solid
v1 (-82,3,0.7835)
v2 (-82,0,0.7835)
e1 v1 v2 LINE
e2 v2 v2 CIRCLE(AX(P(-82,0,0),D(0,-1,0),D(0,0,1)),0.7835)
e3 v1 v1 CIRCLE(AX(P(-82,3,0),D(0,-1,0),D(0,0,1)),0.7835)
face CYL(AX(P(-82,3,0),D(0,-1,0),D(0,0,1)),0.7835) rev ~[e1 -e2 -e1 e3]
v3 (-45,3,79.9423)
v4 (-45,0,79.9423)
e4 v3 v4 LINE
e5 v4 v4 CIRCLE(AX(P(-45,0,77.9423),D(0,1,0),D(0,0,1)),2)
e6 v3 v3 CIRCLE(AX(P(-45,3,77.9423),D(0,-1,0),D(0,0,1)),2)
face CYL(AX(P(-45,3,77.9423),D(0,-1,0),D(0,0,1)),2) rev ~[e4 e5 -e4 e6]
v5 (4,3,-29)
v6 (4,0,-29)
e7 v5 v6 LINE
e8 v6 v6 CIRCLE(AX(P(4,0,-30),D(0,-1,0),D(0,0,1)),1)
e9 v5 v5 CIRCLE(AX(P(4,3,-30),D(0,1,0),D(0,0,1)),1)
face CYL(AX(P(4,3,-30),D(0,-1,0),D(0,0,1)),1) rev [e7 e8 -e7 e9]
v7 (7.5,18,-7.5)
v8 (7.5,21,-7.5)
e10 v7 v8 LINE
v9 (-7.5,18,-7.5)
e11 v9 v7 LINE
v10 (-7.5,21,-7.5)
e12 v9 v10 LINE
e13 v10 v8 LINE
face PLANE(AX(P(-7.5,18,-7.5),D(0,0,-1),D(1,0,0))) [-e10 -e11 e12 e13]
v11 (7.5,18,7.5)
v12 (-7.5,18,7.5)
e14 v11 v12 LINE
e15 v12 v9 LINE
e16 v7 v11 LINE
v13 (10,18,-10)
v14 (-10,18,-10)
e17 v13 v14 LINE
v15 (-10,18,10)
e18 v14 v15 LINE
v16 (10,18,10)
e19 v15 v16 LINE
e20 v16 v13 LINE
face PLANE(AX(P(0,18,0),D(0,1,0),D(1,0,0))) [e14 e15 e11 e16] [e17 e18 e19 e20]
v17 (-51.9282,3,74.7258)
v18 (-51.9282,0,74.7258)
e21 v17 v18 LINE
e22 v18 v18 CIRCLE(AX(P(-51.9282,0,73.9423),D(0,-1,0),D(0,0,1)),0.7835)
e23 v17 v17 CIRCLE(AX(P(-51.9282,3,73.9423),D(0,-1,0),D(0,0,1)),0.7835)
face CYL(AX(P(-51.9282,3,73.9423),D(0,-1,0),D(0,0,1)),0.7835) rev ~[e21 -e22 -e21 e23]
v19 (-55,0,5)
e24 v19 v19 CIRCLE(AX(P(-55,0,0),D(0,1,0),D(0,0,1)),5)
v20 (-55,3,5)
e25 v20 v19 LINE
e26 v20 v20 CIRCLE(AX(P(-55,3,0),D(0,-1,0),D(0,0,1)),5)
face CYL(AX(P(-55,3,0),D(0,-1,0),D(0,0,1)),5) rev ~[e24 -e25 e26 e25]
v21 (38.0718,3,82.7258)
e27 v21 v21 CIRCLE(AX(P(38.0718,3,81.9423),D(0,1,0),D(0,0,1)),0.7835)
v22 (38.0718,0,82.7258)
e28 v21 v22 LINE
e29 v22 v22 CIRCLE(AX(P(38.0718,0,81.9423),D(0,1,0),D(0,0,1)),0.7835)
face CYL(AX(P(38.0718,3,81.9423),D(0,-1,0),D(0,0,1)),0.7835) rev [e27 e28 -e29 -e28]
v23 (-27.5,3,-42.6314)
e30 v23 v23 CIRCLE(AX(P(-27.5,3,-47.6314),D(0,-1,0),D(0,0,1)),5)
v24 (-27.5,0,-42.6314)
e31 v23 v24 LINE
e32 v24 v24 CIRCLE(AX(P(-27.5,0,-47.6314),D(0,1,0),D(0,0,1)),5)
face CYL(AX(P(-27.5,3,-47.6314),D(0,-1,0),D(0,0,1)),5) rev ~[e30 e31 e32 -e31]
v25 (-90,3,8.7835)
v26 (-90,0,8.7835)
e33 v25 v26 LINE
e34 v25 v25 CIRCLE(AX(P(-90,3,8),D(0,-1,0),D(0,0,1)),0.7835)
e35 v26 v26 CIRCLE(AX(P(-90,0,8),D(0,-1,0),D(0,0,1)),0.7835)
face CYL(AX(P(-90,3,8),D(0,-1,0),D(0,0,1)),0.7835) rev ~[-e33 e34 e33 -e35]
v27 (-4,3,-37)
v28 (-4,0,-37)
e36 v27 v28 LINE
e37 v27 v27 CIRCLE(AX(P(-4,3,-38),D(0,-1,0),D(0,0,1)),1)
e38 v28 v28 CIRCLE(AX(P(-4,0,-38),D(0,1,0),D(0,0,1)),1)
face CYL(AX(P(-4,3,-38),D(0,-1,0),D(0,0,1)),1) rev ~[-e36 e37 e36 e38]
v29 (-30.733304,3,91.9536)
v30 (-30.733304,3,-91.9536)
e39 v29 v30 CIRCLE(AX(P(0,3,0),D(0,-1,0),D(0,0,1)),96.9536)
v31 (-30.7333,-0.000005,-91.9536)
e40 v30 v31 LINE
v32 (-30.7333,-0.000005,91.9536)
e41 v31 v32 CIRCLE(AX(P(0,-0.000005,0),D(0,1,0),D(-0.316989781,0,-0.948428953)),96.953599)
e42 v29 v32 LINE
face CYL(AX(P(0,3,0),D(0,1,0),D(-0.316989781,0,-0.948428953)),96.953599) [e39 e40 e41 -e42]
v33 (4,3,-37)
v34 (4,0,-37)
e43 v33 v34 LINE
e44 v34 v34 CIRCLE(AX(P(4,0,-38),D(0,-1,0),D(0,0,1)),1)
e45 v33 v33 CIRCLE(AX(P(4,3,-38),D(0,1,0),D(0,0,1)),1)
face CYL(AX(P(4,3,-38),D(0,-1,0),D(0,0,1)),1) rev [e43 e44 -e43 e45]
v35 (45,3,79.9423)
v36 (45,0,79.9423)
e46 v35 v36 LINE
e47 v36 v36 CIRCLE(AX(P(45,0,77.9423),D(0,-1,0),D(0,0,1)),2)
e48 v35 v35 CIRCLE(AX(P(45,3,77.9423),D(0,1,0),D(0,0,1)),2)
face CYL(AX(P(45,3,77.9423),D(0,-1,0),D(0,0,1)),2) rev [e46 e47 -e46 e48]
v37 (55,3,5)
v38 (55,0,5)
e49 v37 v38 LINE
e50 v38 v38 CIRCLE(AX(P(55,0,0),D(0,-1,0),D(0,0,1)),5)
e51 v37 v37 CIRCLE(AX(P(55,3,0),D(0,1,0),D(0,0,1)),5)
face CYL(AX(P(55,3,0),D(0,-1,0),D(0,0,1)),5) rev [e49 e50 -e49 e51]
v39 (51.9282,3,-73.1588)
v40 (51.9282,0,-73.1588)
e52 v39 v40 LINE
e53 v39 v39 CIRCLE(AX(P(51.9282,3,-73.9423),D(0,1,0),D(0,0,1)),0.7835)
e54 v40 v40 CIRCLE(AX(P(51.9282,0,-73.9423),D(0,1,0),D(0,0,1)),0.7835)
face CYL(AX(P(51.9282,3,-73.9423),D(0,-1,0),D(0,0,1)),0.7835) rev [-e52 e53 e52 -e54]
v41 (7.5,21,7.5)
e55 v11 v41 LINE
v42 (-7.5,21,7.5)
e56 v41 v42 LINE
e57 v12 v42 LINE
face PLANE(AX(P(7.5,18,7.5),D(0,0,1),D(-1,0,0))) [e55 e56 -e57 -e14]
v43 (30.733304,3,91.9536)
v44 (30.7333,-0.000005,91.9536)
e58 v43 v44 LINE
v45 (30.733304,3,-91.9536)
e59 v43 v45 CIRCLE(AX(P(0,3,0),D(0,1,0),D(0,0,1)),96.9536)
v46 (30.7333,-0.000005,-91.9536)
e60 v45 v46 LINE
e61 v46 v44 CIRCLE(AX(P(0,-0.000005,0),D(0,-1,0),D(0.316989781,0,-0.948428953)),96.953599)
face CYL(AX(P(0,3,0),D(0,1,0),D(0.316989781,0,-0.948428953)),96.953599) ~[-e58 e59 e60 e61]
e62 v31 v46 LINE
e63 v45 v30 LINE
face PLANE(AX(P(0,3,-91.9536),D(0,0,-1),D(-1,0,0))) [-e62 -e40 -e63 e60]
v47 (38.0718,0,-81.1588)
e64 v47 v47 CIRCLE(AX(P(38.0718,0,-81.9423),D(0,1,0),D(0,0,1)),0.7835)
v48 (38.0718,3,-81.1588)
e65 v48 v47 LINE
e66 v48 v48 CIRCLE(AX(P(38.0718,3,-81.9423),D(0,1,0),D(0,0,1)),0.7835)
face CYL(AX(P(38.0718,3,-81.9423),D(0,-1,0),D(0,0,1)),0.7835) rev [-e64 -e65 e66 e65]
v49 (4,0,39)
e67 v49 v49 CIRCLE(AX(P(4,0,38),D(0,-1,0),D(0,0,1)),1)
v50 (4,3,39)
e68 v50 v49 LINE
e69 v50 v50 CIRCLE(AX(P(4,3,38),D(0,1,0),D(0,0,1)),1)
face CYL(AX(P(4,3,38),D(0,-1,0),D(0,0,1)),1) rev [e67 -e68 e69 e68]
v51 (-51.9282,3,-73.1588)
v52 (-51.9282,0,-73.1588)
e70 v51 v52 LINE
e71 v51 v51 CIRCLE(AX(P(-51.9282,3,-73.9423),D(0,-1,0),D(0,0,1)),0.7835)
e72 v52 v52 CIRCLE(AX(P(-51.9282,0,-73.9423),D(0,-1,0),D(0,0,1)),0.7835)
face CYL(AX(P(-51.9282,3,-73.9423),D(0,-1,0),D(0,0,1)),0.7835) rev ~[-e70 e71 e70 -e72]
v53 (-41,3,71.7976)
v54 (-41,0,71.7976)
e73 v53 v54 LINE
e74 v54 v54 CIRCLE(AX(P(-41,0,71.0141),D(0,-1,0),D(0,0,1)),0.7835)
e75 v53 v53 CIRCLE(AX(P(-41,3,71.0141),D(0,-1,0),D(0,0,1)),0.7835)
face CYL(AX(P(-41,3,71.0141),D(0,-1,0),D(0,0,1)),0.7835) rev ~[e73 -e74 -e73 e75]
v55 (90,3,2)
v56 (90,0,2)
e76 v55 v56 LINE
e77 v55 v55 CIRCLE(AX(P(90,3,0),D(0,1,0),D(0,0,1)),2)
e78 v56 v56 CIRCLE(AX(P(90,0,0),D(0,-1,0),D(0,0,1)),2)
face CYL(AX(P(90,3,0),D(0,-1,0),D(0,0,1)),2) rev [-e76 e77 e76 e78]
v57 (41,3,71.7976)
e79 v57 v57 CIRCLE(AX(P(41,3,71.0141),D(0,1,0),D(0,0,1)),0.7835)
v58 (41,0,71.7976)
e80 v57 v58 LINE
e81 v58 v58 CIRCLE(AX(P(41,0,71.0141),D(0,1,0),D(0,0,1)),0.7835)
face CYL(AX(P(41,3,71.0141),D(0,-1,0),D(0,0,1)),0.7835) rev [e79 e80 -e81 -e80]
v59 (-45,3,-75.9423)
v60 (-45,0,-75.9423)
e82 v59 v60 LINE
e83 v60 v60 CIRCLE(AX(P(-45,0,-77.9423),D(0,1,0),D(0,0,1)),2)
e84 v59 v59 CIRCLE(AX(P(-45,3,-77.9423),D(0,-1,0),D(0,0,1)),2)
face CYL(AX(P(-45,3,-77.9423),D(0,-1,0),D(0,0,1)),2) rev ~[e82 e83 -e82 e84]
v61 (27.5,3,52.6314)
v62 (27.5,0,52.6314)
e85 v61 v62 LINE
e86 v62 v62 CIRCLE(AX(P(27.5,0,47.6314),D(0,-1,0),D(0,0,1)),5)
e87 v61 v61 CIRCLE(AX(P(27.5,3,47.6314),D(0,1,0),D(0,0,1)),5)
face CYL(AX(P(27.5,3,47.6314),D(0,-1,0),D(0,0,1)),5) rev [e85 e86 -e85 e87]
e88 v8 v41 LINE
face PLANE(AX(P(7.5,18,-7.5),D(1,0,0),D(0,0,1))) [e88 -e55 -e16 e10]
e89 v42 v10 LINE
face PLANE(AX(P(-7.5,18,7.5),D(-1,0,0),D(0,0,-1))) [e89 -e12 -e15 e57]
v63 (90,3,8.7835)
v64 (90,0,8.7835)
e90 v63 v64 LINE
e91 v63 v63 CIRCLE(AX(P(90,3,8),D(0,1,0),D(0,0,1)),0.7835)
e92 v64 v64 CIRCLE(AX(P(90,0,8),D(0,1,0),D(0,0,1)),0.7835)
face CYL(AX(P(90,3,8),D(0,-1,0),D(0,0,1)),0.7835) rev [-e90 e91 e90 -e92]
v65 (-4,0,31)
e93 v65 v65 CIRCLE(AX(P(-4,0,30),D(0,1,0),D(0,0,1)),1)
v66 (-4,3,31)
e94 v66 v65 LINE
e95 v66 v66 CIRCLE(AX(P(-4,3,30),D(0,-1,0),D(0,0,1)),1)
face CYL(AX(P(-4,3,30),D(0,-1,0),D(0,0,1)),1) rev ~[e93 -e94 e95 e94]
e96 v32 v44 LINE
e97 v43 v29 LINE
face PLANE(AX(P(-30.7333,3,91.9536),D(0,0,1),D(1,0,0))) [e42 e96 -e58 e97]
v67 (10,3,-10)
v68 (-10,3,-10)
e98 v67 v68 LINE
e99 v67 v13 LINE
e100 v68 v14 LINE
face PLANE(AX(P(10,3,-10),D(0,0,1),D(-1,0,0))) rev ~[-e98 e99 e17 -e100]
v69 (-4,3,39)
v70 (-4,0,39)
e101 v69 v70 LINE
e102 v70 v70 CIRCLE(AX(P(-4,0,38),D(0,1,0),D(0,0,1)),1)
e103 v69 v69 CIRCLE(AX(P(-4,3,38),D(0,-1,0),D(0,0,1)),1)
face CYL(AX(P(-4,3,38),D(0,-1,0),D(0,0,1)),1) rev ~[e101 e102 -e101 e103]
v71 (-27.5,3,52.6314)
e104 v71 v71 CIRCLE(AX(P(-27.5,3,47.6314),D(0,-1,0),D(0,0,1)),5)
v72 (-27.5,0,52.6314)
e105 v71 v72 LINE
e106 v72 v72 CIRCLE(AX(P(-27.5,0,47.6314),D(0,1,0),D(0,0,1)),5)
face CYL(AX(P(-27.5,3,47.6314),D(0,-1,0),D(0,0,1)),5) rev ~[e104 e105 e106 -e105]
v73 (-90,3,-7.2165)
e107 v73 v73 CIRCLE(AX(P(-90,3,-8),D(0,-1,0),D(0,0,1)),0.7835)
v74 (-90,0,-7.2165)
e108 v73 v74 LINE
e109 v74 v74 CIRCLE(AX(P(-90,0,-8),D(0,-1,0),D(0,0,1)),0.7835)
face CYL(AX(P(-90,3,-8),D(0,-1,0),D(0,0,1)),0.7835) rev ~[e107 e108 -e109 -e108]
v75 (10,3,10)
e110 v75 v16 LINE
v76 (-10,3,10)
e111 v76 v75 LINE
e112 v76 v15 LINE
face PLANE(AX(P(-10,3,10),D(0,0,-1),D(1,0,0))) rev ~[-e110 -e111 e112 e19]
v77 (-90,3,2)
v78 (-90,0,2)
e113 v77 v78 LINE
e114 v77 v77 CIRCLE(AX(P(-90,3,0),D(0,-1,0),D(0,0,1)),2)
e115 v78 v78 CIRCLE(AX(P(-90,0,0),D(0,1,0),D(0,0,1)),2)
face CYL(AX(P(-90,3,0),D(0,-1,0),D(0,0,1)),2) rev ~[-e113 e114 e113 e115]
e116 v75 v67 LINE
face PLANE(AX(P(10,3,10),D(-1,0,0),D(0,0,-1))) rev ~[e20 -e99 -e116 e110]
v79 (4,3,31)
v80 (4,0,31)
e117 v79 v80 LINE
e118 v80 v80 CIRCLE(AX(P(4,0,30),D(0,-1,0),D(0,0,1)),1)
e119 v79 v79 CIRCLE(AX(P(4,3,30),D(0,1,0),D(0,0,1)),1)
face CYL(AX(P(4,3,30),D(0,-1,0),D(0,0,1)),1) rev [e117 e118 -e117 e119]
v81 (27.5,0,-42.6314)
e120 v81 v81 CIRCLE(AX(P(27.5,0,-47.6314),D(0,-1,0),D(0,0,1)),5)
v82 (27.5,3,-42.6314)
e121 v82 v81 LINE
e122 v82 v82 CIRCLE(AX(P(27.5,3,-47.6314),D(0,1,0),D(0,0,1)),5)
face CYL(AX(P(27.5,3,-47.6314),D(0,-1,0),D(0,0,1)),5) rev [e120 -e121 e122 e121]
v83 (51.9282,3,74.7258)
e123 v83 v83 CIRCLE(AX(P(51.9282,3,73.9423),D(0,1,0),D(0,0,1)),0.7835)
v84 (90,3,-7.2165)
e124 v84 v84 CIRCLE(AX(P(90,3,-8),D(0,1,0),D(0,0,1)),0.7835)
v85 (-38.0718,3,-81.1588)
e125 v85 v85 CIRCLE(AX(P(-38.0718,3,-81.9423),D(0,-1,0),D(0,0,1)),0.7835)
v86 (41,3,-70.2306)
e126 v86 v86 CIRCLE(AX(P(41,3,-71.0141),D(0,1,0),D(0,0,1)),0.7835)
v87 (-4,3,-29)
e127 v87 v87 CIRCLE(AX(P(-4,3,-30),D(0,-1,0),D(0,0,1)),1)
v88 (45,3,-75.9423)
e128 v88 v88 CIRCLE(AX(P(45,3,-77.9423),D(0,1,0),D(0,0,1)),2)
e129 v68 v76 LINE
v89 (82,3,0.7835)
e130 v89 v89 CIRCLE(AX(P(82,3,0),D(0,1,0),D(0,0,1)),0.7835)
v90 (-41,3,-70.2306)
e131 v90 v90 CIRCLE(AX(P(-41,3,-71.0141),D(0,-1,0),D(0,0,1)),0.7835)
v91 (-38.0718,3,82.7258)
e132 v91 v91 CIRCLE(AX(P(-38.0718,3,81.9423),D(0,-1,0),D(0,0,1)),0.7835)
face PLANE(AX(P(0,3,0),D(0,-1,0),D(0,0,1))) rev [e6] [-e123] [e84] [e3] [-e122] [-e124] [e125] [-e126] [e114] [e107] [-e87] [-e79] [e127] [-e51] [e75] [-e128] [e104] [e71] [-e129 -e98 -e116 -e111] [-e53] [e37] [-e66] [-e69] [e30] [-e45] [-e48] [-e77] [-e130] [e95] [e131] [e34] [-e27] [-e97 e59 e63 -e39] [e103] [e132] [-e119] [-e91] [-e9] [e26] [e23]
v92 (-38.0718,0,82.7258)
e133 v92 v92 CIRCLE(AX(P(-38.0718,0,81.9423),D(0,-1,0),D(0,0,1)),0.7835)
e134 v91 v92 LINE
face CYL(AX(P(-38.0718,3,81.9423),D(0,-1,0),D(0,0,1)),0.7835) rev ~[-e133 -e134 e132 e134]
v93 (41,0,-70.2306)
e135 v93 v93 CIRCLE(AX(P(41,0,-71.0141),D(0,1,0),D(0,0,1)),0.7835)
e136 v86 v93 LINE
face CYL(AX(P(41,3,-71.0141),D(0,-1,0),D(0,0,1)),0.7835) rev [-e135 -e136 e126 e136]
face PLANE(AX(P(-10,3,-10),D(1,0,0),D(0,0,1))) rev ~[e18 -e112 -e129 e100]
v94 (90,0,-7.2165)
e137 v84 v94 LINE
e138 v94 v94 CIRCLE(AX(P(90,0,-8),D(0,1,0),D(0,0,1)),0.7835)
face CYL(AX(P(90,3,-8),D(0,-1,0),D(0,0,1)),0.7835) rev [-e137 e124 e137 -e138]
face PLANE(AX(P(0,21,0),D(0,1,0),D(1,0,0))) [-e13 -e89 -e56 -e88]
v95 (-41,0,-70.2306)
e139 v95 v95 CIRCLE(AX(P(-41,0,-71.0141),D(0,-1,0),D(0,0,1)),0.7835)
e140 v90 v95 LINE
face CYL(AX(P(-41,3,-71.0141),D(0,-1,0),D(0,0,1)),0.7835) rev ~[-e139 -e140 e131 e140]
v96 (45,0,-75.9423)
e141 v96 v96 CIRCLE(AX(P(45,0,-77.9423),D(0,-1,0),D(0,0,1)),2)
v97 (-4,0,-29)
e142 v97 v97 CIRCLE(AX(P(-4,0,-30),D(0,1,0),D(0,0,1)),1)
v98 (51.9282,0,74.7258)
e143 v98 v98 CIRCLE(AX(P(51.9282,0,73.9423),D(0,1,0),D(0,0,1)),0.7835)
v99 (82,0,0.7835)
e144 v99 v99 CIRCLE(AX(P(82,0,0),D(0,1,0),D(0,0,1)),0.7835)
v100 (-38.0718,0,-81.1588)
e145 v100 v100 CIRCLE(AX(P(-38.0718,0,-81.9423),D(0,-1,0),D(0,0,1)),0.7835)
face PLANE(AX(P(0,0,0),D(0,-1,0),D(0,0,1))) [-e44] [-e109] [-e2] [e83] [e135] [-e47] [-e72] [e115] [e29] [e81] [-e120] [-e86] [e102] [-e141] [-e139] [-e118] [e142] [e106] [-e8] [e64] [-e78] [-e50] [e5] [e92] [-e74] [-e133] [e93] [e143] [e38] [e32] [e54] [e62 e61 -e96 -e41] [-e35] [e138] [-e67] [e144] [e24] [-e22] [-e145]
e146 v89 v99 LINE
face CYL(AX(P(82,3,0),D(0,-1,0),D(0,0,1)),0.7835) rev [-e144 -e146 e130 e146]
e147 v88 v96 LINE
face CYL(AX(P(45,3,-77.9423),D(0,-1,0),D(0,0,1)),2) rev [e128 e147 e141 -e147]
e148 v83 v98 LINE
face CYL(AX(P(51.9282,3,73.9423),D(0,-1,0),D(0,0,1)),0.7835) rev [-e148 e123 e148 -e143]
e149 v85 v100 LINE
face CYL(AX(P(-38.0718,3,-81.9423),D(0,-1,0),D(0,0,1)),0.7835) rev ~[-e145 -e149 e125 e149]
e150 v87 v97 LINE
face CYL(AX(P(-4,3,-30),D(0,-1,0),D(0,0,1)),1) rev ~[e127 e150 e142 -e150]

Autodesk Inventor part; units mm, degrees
ref_plane "РабПлоскость1" through (0, -35, 0) normal (0, 1, 0) x (-1, 0, 0)
ref_plane "РабПлоскость7" through (100, -35, 0) normal (0, -1, 0) x (1, 0, 0)
sketch "Эскиз121" plane through (0, 0, 0) normal (0, 0, 1) x (1, 0, 0)
  line L0 (-100, 0) -> (0, 0)
  line L1 (0, 147.6791) -> (0, -62.3209)
  line L2 (0, 3) -> (-96.9536, 3)
  line L3 (-78.4857, 57) -> (0, 57)
  line L4 (0, 0) -> (0, 3)
  line L5 (0, 57) -> (0, 63)
  line L6 (0, 60) -> (-80, 60)
  arc A0 (-80, 60) -> (-100, 0) centre (0, 0) ccw
  arc A1 (-78.4857, 57) -> (-96.9536, 3) centre (0, 0) ccw
  dimension "d674" = 3
  dimension "d680" = 3
  dimension "d681" = 60
  dimension "d683" = 100
  dimension "d684" = 97
revolve "Вращение3" add sketch "Эскиз121" angle 180 mid plane about axis through (0, 147.6791, 0) along (0, -1, 0) contours A0 L6 L1 L3 A1 L2 L0
sketch "Эскиз124" plane through (0, 60, 0) normal (0, 1, 0) x (1, 0, 0)
  line L0 (-16, 50) -> (16, 50) construction
  line L1 (-16, 42) -> (16, 42)
  line L2 (16, 58) -> (-16, 58)
  arc A0 (-16, 58) -> (-16, 42) centre (-16, 50) ccw
  arc A1 (16, 42) -> (16, 58) centre (16, 50) ccw
  line L3 (0, -80) -> (0, 80) projected
  point P0 (0, 0)
  point P1 (0, 50)
  point P2 (0, 0)
  dimension "d685" = 16
  dimension "d686" = 32
  dimension "d687" = 50
extrude "Выдавливание106" cut sketch "Эскиз124" against normal blind 2.5
sketch "Эскиз125" plane through (0, 60, 0) normal (0, 1, 0) x (1, 0, 0)
  line L0 (-16, -50) -> (16, -50) construction
  line L1 (-16, -58) -> (16, -58)
  line L2 (16, -42) -> (-16, -42)
  arc A0 (-16, -42) -> (-16, -58) centre (-16, -50) ccw
  arc A1 (16, -58) -> (16, -42) centre (16, -50) ccw
  line L3 (0, -80) -> (0, 42) projected
  line L4 (0, -58) -> (0, -42)
  point P0 (0, 0)
  point P1 (0, -50)
  dimension "d690" = 16
  dimension "d691" = 32
  dimension "d692" = 50
extrude "Выдавливание107" add sketch "Эскиз125" against normal blind 2.5 contours L3 L2 A1 L1
sketch "Эскиз126" plane through (0, 60, 0) normal (0, 1, 0) x (1, 0, 0)
  arc A0 (16, -58) -> (16, -42) centre (16, -50) ccw projected
  arc A1 (-16, 58) -> (-16, 42) centre (-16, 50) ccw projected
  point P0 (0, 0)
hole "Отверстие2" at (16, 60, 50) at (-16, 60, -50) direction (0, -1, 0) diameter 6.917 depth 21.1 thread size "M8x1" class "6H" standard "ISO Metric profile"
sketch "Эскиз127" plane through (0, 3, 0) normal (0, 1, 0) x (1, 0, 0)
  circle A0 centre (0, 0) radius 97 construction
  line L0 (-30.8794, 91.9536) -> (0, 91.9536)
  line L1 (0, 96.9536) -> (0, 78.4857) projected
  line L2 (-30.8794, -91.9536) -> (0, -91.9536)
  arc A1 (0, 96.9536) -> (-30.8794, 91.9536) centre (-0.863, 4.4296) ccw
  line L3 (0, -96.9536) -> (0, -78.4857) projected
  arc A2 (-30.8794, -91.9536) -> (0, -96.9536) centre (-0.8523, -4.3638) ccw
  point P0 (0, 0)
  dimension "d702" = 5
extrude "Выдавливание108" add sketch "Эскиз127" along normal blind 20
sketch "Эскиз128" plane through (-30.7333, 3, 91.9536) normal (0, 1, 0) x (1, 0, 0)
  arc A0 (30.7333, 191.9536) -> (30.7333, -8.0464) centre (30.7333, 91.9536) ccw projected
  line L0 (30.7333, 91.9536) -> (-35.2452, -22.3245) construction
  line L1 (-32.7821, 24.7012) -> (2.9493, 4.0717) construction
  line L2 (-21.1949, 18.0113) -> (-19.9628, 20.1455) construction
  line L3 (-18.2667, 7.0831) -> (-18.9318, 7.4671) construction
  point P0 (30.7333, 91.9536)
  point P1 (-59.2667, 91.9536)
  point P2 (-14.2667, 14.0113)
  point P3 (-14.2667, 169.8959)
  point P4 (-7.3385, 10.0113)
  point P5 (-10.2667, 20.9395)
  point P6 (-59.2667, 99.9536)
  point P7 (-67.2667, 91.9536)
  point P8 (-59.2667, 83.9536)
  point P9 (-51.2667, 91.9536)
  point P10 (-7.3385, 173.8959)
  point P11 (-18.2667, 176.8241)
  point P12 (-21.1949, 165.8959)
  point P13 (-10.2667, 162.9677)
  dimension "d705" = 90
  dimension "d708" = 60
  dimension "d712" = 60
  dimension "d798" = 16
  dimension "d799" = 8
  dimension "d800" = 16
  dimension "d801" = 8
  dimension "d804" = 120
hole "Отверстие3" at (-90, 3, 0) at (-45, 3, 77.9423) at (-45, 3, -77.9423) direction (0, -1, 0) diameter 4 depth 21.1
sketch "Эскиз129" plane through (-30.7333, 3, 91.9536) normal (0, 1, 0) x (1, 0, 0)
  point P0 (30.7333, 91.9536)
  point P1 (30.7333, 91.9536)
  point P2 (26.7333, 53.9536)
  point P3 (26.7333, 61.9536)
  point P4 (26.7333, 121.9536)
  point P5 (26.7333, 129.9536)
  dimension "d721" = 30
  dimension "d722" = 30
  dimension "d723" = 8
  dimension "d725" = 8
  dimension "d726" = 4
hole "Отверстие4" at (-4, 3, -38) at (-4, 3, -30) at (-4, 3, 30) at (-4, 3, 38) direction (0, -1, 0) diameter 2 depth 21.1
sketch "Эскиз130" plane through (-30.7333, 3, 91.9536) normal (0, 1, 0) x (1, 0, 0)
  circle A0 centre (-59.2667, 91.9536) radius 2 projected
  arc A1 (30.7333, 191.9536) -> (30.7333, -8.0464) centre (30.7333, 91.9536) ccw projected
  point P0 (30.7333, 91.9536)
  point P1 (-24.2667, 91.9536)
  point P2 (3.2333, 44.3222)
  point P3 (3.2333, 139.585)
  dimension "d746" = 35
  dimension "d749" = 60
  dimension "d753" = 60
hole "Отверстие5" at (-27.5, 3, -47.6314) at (-27.5, 3, 47.6314) at (-55, 3, 0) direction (0, -1, 0) diameter 10 depth 21.1
hole "Отверстие6" at (-51.9282, 3, 73.9423) at (-38.0718, 3, 81.9423) at (-49, 3, 84.8705) at (-41, 3, 71.0141) at (-90, 3, -8) at (-98, 3, 0) at (-90, 3, 8) at (-82, 3, 0) at (-38.0718, 3, -81.9423) at (-49, 3, -84.8705) at (-51.9282, 3, -73.9423) at (-41, 3, -71.0141) direction (0, -1, 0) diameter 1.567 depth 6.3 tip angle 118 thread size "M2x0.4" class "6H" standard "ANSI Metric M Profile"
sketch "Эскиз131" plane through (0, 60, 0) normal (0, 1, 0) x (1, 0, 0)
  circle A0 centre (0, 0) radius 5
  dimension "d755" = 10
extrude "Выдавливание109" cut sketch "Эскиз131" against normal blind 25
sketch "Эскиз132" plane through (0, 0, 0) normal (0, 0, 1) x (1, 0, 0)
  line L0 (-80, 60) -> (0, 60) projected
  circle A0 centre (-80, 60) radius 10
  circle A1 centre (-80, 60) radius 8
  arc A2 (-20.6043, 23) -> (-30.7333, 3) centre (0, 0) ccw projected
  line L1 (-30.7333, 3) -> (-30.7333, 3) projected
  arc A3 (-20.6043, 23) -> (-30.7333, 3) centre (0, 0) ccw projected
  line L2 (-20.6043, 23) -> (0, 23) projected
  line L3 (0, 57) -> (0, 23) projected
  line L4 (0, 57) -> (0, 57) projected
  line L5 (0, 57) -> (0, 23) projected
  line L6 (0, 23) -> (-20.6043, 23) projected
  arc A4 (-78.4857, 57) -> (-96.9536, 3) centre (0, 0) ccw projected
  line L7 (0, 0) -> (0, 60) projected
  line L8 (0, 60) -> (0, 60) projected
  line L9 (0, 0) -> (0, 60) projected
  line L10 (0, 0) -> (0, 0) projected
  line L11 (-78.4857, 57) -> (0, 57) projected
  line L12 (-72.5838, 57) -> (-70.4606, 57)
  line L13 (-82, 52.254) -> (-83.3842, 50.59)
  point P0 (0, 0)
  dimension "d758" = 20
  dimension "d759" = 16
  dimension "d762" = 1.664
  dimension "d763" = 82
extrude "Выдавливание110" cut sketch "Эскиз132" along normal mid plane 150 contours A1 L11 A4 | A1 A4 L11
extrude "Выдавливание111" add sketch "Эскиз132" along normal mid plane 40 contours A1 A4 A0 L13 | L11 A0 A4 A1
sketch "Эскиз133" plane through (0, 0, 20) normal (0, 0, 1) x (1, 0, 0)
  arc A0 (-80.6647, 50.0221) -> (-70.4606, 57) centre (-80, 60) ccw projected
  arc A1 (-80.6647, 50.0221) -> (-70.4606, 57) centre (-80, 60) ccw
  line L0 (-71.9925, 60) -> (-70.4606, 57)
  arc A2 (-79.3887, 52.0234) -> (-80.6647, 50.0221) centre (0, 0) ccw projected
  arc A3 (-79.3887, 52.0234) -> (-72.5838, 57) centre (-80, 60) ccw projected
  line L1 (-72, 60) -> (0, 60) projected
  arc A4 (-79.3887, 52.0234) -> (-72, 60) centre (-80, 60) ccw
  arc A5 (-79.3887, 52.0234) -> (-80.6647, 50.0221) centre (-73.3358, 46.7568) ccw
  point P0 (0, 0)
  dimension "d768" = 3
  dimension "d773" = 10
  dimension "d774" = 8.0234
extrude "Выдавливание113" add sketch "Эскиз133" along normal blind 11 and the other way blind 51 contours A2 A3 A4 L1 L0 A0
sketch "Эскиз134" plane through (-16, 60, -42) normal (0, 1, 0) x (1, 0, 0)
  circle A0 centre (-53, -42) radius 1.5
  line L0 (-56, -7.1288) -> (-56, -76.8712) projected
  point P0 (16, -42)
  dimension "d779" = 3
  dimension "d780" = 3
extrude "Выдавливание114" cut sketch "Эскиз134" against normal up to surface (3 mm away)
ref_plane "РабПлоскость27" through (-90, 0, 0) normal (1, 0, 0) x (0, 1, 0)
sketch "Эскиз135" plane through (-90, 0, 0) normal (1, 0, 0) x (0, 1, 0)
  circle A0 centre (50, 0) radius 1.5
  line L0 (60, -34.8712) -> (60, 34.8712) projected
  point P0 (0, 0)
  dimension "d784" = 3
  dimension "d785" = 10
extrude "Выдавливание115" cut sketch "Эскиз135" along normal up to surface
sketch "Эскиз136" plane through (-30.7333, 3, 91.9536) normal (0, 1, 0) x (1, 0, 0)
  arc A0 (30.7333, 191.9536) -> (30.7333, -8.0464) centre (30.7333, 91.9536) ccw projected
  circle A1 centre (3.2333, 44.3222) radius 5 projected
  circle A2 centre (3.2333, 139.585) radius 5 projected
  circle A3 centre (-24.2667, 91.9536) radius 5 projected
  circle A4 centre (26.7333, 61.9536) radius 1 projected
  circle A5 centre (26.7333, 129.9536) radius 1 projected
  circle A6 centre (26.7333, 121.9536) radius 1 projected
  circle A7 centre (26.7333, 53.9536) radius 1 projected
  circle A8 centre (-14.2667, 14.0113) radius 2 projected
  circle A9 centre (-59.2667, 91.9536) radius 2 projected
  circle A10 centre (-14.2667, 169.8959) radius 2 projected
  line L0 (0, 0) -> (30.7333, 0) projected
  line L1 (30.7333, 0) -> (30.7333, 183.9072) projected
  line L2 (30.7333, 183.9072) -> (0, 183.9072) projected
  arc A11 (0, 183.9072) -> (0, 0) centre (30.7333, 91.9536) ccw projected
  point P0 (30.7333, 91.9536)
extrude "Выдавливание116" cut sketch "Эскиз136" against normal through all keep common part
mirror "Зеркальное отражение7" about plane through (0, 27.7792, 53.8643) normal (1, 0, 0)
sketch "Эскиз137" plane through (0, 3, 0) normal (0, 1, 0) x (1, 0, 0)
  line L0 (-10, -10) -> (10, -10)
  line L1 (10, -10) -> (10, 10)
  line L2 (10, 10) -> (-10, 10)
  line L3 (-10, 10) -> (-10, -10)
  line L4 (-10, -10) -> (10, 10) construction
  line L5 (10, -10) -> (-10, 10) construction
  point P0 (0, 0)
  dimension "d790" = 20
  dimension "d791" = 20
extrude "Выдавливание117" add sketch "Эскиз137" along normal blind 15
sketch "Эскиз138" plane through (0, 18, 0) normal (0, 1, 0) x (1, 0, 0)
  line L0 (-7.5, 7.5) -> (7.5, 7.5)
  line L1 (7.5, 7.5) -> (7.5, -7.5)
  line L2 (7.5, -7.5) -> (-7.5, -7.5)
  line L3 (-7.5, -7.5) -> (-7.5, 7.5)
  line L4 (-7.5, 7.5) -> (7.5, -7.5) construction
  line L5 (7.5, 7.5) -> (-7.5, -7.5) construction
  point P0 (0, 0)
  dimension "d794" = 15
  dimension "d795" = 15
  dimension "d12" = 100
  dimension "d14" = 17
  dimension "d26" = 5
extrude "Выдавливание118" add sketch "Эскиз138" along normal blind 3
sketch "Эскиз6" plane through (0, -35, -85) normal (0, -1, 0) x (1, 0, 0)
  arc A0 (29.3991, 164.4544) -> (0, 170) centre (-5, 62.7941) ccw projected
  line L0 (0, 170) -> (0, 0) projected
  arc A1 (0, 0) -> (29.3991, 5.5456) centre (-5, 107.2059) ccw projected
  arc A2 (29.3991, 5.5456) -> (100, 85) centre (-5, 107.2059) ccw projected
  arc A3 (100, 85) -> (29.3991, 164.4544) centre (-5, 62.7941) ccw projected
  point P0 (0, 85)
sketch "Эскиз22" plane through (2, -165, 82.8837) normal (1, 0, 0) x (0, 0, -1)
  line L0 (167.8837, 130) -> (82.8837, 130) construction
  line L1 (165.8837, 130) -> (165.8837, 0)
  line L2 (-2.1163, 0) -> (167.8837, 0) construction
  line L3 (167.8837, 130) -> (167.8837, 0) construction
  line L4 (145.8837, 130) -> (145.8837, 0)
  line L5 (145.8837, 130) -> (165.8837, 130)
  line L6 (145.8837, 0) -> (165.8837, 0)
  point P0 (82.8837, 165)
  dimension "d115" = 2
  dimension "d116" = 20
  dimension "d121" = 143.8029
  dimension "d126" = 5
  dimension "d127" = 5
  dimension "d128" = 2
  dimension "d129" = 2
  dimension "d130" = 5
  dimension "d133" = 3
  dimension "d134" = 2
  dimension "d135" = 6
sketch "Эскиз25" plane through (2, -165, 82.8837) normal (1, 0, 0) x (0, 0, -1)
  arc A0 (82.8837, 246.0941) -> (-2.1163, 165) centre (82.8837, 161) ccw projected
  arc A1 (82.8837, 244.0941) -> (-1.8354, 166.9802) centre (82.8837, 159) ccw
  line L0 (82.8837, 244.0941) -> (82.8837, 239.0941)
  line L1 (82.8837, 239.0941) -> (54.1445, 239.0941)
  point P0 (82.8837, 165)
  dimension "d138" = 2
  dimension "d139" = 2
  dimension "d140" = 2
  dimension "d141" = 5
  dimension "d257" = 4
  dimension "d258" = 2
  dimension "d259" = 2
  dimension "d260" = 2
  dimension "d261" = 2
  dimension "d262" = 16
  dimension "d263" = 16
  dimension "d264" = 16
  dimension "d265" = 16
  dimension "d266" = 4
  dimension "d267" = 4
  dimension "d268" = 4
  dimension "d269" = 2
  dimension "d270" = 2
  dimension "d271" = 2
  dimension "d272" = 2
  dimension "d273" = 2
  dimension "d274" = 2
  dimension "d275" = 2
  dimension "d276" = 2
  dimension "d277" = 2
  dimension "d278" = 2
  dimension "d279" = 2
  dimension "d280" = 2
  dimension "d448" = 15
  dimension "d449" = 15
  dimension "d450" = 50
  dimension "d451" = 50
  dimension "d452" = 50
  dimension "d453" = 50
  dimension "d454" = 95
  dimension "d455" = 95
  dimension "d456" = 16
  dimension "d457" = 4
  dimension "d458" = 2
  dimension "d459" = 2
  dimension "d460" = 2
  dimension "d461" = 2
  dimension "d462" = 16
  dimension "d463" = 4
  dimension "d464" = 2
  dimension "d465" = 2
  dimension "d466" = 2
  dimension "d467" = 2
  dimension "d468" = 95
  dimension "d469" = 50
  dimension "d470" = 50
  dimension "d471" = 95
sketch "Эскиз61" plane through (0, -165, -85) normal (0, -1, 0) x (1, 0, 0)
  line L0 (63.3161, 9.7707) -> (45.9008, 9.7707)
  line L1 (45.9008, 9.7707) -> (45.9008, 31.4712)
  line L2 (45.9008, 31.4712) -> (63.3161, 31.4712)
  line L3 (63.3161, 31.4712) -> (63.3161, 9.7707)
  arc A0 (2, 2.1163) -> (45.9008, 15) centre (-5, 107.2059) ccw projected
  point P0 (0, 85)
  dimension "d431" = 10
  dimension "d432" = 10
  dimension "d503" = 47
  dimension "d504" = 15
  dimension "d505" = 15
  dimension "d508" = 30
  dimension "d515" = 95
sketch "Эскиз87" plane through (0, -35, 85) normal (-1, 0, 0) x (0, 0, 1)
  circle A0 centre (-89, -71.5) radius 1
  line L0 (0, -130) -> (-170, -130) projected
  circle A1 centre (-81, -71.5) radius 1
  line L1 (0, -130) -> (-170, -130) projected
  line L2 (-81.4837, -130) -> (-88.5163, -130) projected
  line L3 (-85, -130) -> (-85, 95) construction
  line L4 (-81, -71.5) -> (-89, -71.5) construction
  circle A2 centre (-89, -63.5) radius 1
  circle A3 centre (-81, -63.5) radius 1
  circle A4 centre (-81, 23.5) radius 1
  circle A5 centre (-81, 31.5) radius 1
  circle A6 centre (-89, 23.5) radius 1
  circle A7 centre (-89, 31.5) radius 1
  circle A8 centre (-89, -71.5) radius 1 projected
  circle A9 centre (-89, 23.5) radius 1 projected
  point P0 (-88.3838, -130)
  point P1 (-119.3064, -130)
  point P2 (-50.6936, -130)
  point P3 (-81.6162, -130)
  point P4 (-85, -71.5)
  dimension "d479" = 2
  dimension "d481" = 2
  dimension "d483" = 8
  dimension "d486" = 8
  dimension "d491" = 2
  dimension "d495" = 8
  dimension "d498" = 8
  dimension "d638" = 87
sketch "Эскиз109" plane through (100, -36, 0) normal (0, 1, 0) x (1, 0, 0)
  line L0 (-54.0992, 63) -> (-98, 63) projected
  line L1 (-98, 0) -> (-98, 82.8837) projected
  line L2 (-70, 63) -> (-68, 63)
  line L3 (-68, 63) -> (-68, 60)
  line L4 (-68, 60) -> (-70, 60)
  line L5 (-70, 60) -> (-70, 63)
  line L6 (-65.5, 63) -> (-63.5, 63)
  line L7 (-63.5, 63) -> (-63.5, 60)
  line L8 (-63.5, 60) -> (-65.5, 60)
  line L9 (-65.5, 60) -> (-65.5, 63)
  point P0 (-100, 0)
  dimension "d588" = 30
  dimension "d589" = 2
  dimension "d590" = 2
  dimension "d591" = 2.5
  dimension "d592" = 3
sketch "Эскиз110" plane through (0, -165, -85) normal (0, -1, 0) x (1, 0, 0)
  arc A0 (97.9549, 85) -> (2, 167.8837) centre (-5, 62.7941) ccw projected
  line L0 (97.9395, 85) -> (14.2936, 85) projected
  line L1 (30, 22) -> (30, 25) projected
  line L2 (32, 25) -> (32, 22) projected
  line L3 (34.5, 22) -> (34.5, 25) projected
  line L4 (36.5, 25) -> (36.5, 22) projected
  line L5 (30, 85) -> (30, 162.131)
  line L6 (32, 85) -> (32, 161.4035)
  line L7 (34.5, 85) -> (34.5, 160.429)
  line L8 (36.5, 85) -> (36.5, 159.5958)
  point P0 (0, 85)
  point P1 (2, 167.8837)
  point P2 (18.2297, 165.5228)
  point P3 (50.539, 152.2828)
  point P4 (97.9549, 85)
  point P5 (30, 23.5)
  point P6 (32, 23.5)
  point P7 (34.5, 23.5)
  point P8 (36.5, 23.5)
sketch "Эскиз111" plane through (36.5, -165, 74.5958) normal (1, 0, 0) x (0, 0, -1)
  line L0 (74.5958, 0) -> (74.5958, 228.8154) projected
  line L1 (-0.8332, 0) -> (74.5958, 0) projected
  line L2 (-0.8332, 144.6272) -> (-0.8332, 0) projected
  line L3 (2.1668, 0) -> (2.1668, 144.6272)
  arc A0 (74.5958, 225.8154) -> (2.1668, 144.6272) centre (84.7947, 143.8154) ccw
  line L4 (2.1668, 0) -> (74.5958, 0)
  line L5 (74.5958, 0) -> (74.5958, 225.8154)
  point P0 (74.5958, 165)
  dimension "d597" = 3
  dimension "d598" = 3
  dimension "d599" = 85
sketch "Эскиз114" plane through (2, -165, 82.8837) normal (1, 0, 0) x (0, 0, -1)
  circle A0 centre (120.1897, 5) radius 1
  line L0 (-2.1163, 0) -> (167.8837, 0) construction
  line L1 (82.8837, 0) -> (82.8837, 60.2174) construction
  circle A1 centre (45.5777, 5) radius 1
  point P0 (82.8837, 165)
  dimension "d609" = 2
  dimension "d610" = 37.306
  dimension "d611" = 5
sketch "Эскиз117" plane through (2, -165, 82.8837) normal (1, 0, 0) x (0, 0, -1)
  circle A0 centre (104.8837, 10) radius 1
  line L0 (145.8837, 0) -> (0, 0) construction
  line L1 (82.8837, 130) -> (82.8837, 0) construction
  circle A1 centre (60.8837, 10) radius 1
  point P0 (82.8837, 165)
  dimension "d624" = 2
  dimension "d625" = 10
  dimension "d626" = 22
  dimension "d629" = 2
  dimension "d631" = 22
  dimension "d632" = 10
sketch "Эскиз118" plane through (100, -165, 0) normal (1, 0, 0) x (0, 0, -1)
  line L0 (-85, 0) -> (0, 0) projected
  line L1 (0, 130) -> (0, 0) projected
  circle A0 centre (-9.5, 10) radius 1
  point P0 (0, 165)
  dimension "d633" = 2
  dimension "d634" = 9.5
  dimension "d635" = 10
sketch "Эскиз119" plane through (82, -165, -85) normal (-1, 0, 0) x (0, 0, 1)
  line L0 (170, 0) -> (0, 0) projected
  line L1 (0, 0) -> (175, 0)
  line L2 (175, 0) -> (175, 251)
  line L3 (175, 251) -> (0, 251)
  line L4 (0, 251) -> (0, 0)
  point P0 (85, 165)
  dimension "d640" = 251
  dimension "d641" = 175
sketch "Эскиз120" plane through (0, -165, -85) normal (-1, 0, 0) x (0, 0, 1)
  line L0 (170, 0) -> (0, 0) projected
  arc A0 (0, 0) -> (170, 0) centre (85, 52.6783) ccw
  point P0 (85, 165)
  dimension "d649" = 100
  dimension "d10" = 170
  dimension "d15" = 4
  dimension "d16" = 35
  dimension "d97" = 2
properties part number "1" material "Пластик АБС"
